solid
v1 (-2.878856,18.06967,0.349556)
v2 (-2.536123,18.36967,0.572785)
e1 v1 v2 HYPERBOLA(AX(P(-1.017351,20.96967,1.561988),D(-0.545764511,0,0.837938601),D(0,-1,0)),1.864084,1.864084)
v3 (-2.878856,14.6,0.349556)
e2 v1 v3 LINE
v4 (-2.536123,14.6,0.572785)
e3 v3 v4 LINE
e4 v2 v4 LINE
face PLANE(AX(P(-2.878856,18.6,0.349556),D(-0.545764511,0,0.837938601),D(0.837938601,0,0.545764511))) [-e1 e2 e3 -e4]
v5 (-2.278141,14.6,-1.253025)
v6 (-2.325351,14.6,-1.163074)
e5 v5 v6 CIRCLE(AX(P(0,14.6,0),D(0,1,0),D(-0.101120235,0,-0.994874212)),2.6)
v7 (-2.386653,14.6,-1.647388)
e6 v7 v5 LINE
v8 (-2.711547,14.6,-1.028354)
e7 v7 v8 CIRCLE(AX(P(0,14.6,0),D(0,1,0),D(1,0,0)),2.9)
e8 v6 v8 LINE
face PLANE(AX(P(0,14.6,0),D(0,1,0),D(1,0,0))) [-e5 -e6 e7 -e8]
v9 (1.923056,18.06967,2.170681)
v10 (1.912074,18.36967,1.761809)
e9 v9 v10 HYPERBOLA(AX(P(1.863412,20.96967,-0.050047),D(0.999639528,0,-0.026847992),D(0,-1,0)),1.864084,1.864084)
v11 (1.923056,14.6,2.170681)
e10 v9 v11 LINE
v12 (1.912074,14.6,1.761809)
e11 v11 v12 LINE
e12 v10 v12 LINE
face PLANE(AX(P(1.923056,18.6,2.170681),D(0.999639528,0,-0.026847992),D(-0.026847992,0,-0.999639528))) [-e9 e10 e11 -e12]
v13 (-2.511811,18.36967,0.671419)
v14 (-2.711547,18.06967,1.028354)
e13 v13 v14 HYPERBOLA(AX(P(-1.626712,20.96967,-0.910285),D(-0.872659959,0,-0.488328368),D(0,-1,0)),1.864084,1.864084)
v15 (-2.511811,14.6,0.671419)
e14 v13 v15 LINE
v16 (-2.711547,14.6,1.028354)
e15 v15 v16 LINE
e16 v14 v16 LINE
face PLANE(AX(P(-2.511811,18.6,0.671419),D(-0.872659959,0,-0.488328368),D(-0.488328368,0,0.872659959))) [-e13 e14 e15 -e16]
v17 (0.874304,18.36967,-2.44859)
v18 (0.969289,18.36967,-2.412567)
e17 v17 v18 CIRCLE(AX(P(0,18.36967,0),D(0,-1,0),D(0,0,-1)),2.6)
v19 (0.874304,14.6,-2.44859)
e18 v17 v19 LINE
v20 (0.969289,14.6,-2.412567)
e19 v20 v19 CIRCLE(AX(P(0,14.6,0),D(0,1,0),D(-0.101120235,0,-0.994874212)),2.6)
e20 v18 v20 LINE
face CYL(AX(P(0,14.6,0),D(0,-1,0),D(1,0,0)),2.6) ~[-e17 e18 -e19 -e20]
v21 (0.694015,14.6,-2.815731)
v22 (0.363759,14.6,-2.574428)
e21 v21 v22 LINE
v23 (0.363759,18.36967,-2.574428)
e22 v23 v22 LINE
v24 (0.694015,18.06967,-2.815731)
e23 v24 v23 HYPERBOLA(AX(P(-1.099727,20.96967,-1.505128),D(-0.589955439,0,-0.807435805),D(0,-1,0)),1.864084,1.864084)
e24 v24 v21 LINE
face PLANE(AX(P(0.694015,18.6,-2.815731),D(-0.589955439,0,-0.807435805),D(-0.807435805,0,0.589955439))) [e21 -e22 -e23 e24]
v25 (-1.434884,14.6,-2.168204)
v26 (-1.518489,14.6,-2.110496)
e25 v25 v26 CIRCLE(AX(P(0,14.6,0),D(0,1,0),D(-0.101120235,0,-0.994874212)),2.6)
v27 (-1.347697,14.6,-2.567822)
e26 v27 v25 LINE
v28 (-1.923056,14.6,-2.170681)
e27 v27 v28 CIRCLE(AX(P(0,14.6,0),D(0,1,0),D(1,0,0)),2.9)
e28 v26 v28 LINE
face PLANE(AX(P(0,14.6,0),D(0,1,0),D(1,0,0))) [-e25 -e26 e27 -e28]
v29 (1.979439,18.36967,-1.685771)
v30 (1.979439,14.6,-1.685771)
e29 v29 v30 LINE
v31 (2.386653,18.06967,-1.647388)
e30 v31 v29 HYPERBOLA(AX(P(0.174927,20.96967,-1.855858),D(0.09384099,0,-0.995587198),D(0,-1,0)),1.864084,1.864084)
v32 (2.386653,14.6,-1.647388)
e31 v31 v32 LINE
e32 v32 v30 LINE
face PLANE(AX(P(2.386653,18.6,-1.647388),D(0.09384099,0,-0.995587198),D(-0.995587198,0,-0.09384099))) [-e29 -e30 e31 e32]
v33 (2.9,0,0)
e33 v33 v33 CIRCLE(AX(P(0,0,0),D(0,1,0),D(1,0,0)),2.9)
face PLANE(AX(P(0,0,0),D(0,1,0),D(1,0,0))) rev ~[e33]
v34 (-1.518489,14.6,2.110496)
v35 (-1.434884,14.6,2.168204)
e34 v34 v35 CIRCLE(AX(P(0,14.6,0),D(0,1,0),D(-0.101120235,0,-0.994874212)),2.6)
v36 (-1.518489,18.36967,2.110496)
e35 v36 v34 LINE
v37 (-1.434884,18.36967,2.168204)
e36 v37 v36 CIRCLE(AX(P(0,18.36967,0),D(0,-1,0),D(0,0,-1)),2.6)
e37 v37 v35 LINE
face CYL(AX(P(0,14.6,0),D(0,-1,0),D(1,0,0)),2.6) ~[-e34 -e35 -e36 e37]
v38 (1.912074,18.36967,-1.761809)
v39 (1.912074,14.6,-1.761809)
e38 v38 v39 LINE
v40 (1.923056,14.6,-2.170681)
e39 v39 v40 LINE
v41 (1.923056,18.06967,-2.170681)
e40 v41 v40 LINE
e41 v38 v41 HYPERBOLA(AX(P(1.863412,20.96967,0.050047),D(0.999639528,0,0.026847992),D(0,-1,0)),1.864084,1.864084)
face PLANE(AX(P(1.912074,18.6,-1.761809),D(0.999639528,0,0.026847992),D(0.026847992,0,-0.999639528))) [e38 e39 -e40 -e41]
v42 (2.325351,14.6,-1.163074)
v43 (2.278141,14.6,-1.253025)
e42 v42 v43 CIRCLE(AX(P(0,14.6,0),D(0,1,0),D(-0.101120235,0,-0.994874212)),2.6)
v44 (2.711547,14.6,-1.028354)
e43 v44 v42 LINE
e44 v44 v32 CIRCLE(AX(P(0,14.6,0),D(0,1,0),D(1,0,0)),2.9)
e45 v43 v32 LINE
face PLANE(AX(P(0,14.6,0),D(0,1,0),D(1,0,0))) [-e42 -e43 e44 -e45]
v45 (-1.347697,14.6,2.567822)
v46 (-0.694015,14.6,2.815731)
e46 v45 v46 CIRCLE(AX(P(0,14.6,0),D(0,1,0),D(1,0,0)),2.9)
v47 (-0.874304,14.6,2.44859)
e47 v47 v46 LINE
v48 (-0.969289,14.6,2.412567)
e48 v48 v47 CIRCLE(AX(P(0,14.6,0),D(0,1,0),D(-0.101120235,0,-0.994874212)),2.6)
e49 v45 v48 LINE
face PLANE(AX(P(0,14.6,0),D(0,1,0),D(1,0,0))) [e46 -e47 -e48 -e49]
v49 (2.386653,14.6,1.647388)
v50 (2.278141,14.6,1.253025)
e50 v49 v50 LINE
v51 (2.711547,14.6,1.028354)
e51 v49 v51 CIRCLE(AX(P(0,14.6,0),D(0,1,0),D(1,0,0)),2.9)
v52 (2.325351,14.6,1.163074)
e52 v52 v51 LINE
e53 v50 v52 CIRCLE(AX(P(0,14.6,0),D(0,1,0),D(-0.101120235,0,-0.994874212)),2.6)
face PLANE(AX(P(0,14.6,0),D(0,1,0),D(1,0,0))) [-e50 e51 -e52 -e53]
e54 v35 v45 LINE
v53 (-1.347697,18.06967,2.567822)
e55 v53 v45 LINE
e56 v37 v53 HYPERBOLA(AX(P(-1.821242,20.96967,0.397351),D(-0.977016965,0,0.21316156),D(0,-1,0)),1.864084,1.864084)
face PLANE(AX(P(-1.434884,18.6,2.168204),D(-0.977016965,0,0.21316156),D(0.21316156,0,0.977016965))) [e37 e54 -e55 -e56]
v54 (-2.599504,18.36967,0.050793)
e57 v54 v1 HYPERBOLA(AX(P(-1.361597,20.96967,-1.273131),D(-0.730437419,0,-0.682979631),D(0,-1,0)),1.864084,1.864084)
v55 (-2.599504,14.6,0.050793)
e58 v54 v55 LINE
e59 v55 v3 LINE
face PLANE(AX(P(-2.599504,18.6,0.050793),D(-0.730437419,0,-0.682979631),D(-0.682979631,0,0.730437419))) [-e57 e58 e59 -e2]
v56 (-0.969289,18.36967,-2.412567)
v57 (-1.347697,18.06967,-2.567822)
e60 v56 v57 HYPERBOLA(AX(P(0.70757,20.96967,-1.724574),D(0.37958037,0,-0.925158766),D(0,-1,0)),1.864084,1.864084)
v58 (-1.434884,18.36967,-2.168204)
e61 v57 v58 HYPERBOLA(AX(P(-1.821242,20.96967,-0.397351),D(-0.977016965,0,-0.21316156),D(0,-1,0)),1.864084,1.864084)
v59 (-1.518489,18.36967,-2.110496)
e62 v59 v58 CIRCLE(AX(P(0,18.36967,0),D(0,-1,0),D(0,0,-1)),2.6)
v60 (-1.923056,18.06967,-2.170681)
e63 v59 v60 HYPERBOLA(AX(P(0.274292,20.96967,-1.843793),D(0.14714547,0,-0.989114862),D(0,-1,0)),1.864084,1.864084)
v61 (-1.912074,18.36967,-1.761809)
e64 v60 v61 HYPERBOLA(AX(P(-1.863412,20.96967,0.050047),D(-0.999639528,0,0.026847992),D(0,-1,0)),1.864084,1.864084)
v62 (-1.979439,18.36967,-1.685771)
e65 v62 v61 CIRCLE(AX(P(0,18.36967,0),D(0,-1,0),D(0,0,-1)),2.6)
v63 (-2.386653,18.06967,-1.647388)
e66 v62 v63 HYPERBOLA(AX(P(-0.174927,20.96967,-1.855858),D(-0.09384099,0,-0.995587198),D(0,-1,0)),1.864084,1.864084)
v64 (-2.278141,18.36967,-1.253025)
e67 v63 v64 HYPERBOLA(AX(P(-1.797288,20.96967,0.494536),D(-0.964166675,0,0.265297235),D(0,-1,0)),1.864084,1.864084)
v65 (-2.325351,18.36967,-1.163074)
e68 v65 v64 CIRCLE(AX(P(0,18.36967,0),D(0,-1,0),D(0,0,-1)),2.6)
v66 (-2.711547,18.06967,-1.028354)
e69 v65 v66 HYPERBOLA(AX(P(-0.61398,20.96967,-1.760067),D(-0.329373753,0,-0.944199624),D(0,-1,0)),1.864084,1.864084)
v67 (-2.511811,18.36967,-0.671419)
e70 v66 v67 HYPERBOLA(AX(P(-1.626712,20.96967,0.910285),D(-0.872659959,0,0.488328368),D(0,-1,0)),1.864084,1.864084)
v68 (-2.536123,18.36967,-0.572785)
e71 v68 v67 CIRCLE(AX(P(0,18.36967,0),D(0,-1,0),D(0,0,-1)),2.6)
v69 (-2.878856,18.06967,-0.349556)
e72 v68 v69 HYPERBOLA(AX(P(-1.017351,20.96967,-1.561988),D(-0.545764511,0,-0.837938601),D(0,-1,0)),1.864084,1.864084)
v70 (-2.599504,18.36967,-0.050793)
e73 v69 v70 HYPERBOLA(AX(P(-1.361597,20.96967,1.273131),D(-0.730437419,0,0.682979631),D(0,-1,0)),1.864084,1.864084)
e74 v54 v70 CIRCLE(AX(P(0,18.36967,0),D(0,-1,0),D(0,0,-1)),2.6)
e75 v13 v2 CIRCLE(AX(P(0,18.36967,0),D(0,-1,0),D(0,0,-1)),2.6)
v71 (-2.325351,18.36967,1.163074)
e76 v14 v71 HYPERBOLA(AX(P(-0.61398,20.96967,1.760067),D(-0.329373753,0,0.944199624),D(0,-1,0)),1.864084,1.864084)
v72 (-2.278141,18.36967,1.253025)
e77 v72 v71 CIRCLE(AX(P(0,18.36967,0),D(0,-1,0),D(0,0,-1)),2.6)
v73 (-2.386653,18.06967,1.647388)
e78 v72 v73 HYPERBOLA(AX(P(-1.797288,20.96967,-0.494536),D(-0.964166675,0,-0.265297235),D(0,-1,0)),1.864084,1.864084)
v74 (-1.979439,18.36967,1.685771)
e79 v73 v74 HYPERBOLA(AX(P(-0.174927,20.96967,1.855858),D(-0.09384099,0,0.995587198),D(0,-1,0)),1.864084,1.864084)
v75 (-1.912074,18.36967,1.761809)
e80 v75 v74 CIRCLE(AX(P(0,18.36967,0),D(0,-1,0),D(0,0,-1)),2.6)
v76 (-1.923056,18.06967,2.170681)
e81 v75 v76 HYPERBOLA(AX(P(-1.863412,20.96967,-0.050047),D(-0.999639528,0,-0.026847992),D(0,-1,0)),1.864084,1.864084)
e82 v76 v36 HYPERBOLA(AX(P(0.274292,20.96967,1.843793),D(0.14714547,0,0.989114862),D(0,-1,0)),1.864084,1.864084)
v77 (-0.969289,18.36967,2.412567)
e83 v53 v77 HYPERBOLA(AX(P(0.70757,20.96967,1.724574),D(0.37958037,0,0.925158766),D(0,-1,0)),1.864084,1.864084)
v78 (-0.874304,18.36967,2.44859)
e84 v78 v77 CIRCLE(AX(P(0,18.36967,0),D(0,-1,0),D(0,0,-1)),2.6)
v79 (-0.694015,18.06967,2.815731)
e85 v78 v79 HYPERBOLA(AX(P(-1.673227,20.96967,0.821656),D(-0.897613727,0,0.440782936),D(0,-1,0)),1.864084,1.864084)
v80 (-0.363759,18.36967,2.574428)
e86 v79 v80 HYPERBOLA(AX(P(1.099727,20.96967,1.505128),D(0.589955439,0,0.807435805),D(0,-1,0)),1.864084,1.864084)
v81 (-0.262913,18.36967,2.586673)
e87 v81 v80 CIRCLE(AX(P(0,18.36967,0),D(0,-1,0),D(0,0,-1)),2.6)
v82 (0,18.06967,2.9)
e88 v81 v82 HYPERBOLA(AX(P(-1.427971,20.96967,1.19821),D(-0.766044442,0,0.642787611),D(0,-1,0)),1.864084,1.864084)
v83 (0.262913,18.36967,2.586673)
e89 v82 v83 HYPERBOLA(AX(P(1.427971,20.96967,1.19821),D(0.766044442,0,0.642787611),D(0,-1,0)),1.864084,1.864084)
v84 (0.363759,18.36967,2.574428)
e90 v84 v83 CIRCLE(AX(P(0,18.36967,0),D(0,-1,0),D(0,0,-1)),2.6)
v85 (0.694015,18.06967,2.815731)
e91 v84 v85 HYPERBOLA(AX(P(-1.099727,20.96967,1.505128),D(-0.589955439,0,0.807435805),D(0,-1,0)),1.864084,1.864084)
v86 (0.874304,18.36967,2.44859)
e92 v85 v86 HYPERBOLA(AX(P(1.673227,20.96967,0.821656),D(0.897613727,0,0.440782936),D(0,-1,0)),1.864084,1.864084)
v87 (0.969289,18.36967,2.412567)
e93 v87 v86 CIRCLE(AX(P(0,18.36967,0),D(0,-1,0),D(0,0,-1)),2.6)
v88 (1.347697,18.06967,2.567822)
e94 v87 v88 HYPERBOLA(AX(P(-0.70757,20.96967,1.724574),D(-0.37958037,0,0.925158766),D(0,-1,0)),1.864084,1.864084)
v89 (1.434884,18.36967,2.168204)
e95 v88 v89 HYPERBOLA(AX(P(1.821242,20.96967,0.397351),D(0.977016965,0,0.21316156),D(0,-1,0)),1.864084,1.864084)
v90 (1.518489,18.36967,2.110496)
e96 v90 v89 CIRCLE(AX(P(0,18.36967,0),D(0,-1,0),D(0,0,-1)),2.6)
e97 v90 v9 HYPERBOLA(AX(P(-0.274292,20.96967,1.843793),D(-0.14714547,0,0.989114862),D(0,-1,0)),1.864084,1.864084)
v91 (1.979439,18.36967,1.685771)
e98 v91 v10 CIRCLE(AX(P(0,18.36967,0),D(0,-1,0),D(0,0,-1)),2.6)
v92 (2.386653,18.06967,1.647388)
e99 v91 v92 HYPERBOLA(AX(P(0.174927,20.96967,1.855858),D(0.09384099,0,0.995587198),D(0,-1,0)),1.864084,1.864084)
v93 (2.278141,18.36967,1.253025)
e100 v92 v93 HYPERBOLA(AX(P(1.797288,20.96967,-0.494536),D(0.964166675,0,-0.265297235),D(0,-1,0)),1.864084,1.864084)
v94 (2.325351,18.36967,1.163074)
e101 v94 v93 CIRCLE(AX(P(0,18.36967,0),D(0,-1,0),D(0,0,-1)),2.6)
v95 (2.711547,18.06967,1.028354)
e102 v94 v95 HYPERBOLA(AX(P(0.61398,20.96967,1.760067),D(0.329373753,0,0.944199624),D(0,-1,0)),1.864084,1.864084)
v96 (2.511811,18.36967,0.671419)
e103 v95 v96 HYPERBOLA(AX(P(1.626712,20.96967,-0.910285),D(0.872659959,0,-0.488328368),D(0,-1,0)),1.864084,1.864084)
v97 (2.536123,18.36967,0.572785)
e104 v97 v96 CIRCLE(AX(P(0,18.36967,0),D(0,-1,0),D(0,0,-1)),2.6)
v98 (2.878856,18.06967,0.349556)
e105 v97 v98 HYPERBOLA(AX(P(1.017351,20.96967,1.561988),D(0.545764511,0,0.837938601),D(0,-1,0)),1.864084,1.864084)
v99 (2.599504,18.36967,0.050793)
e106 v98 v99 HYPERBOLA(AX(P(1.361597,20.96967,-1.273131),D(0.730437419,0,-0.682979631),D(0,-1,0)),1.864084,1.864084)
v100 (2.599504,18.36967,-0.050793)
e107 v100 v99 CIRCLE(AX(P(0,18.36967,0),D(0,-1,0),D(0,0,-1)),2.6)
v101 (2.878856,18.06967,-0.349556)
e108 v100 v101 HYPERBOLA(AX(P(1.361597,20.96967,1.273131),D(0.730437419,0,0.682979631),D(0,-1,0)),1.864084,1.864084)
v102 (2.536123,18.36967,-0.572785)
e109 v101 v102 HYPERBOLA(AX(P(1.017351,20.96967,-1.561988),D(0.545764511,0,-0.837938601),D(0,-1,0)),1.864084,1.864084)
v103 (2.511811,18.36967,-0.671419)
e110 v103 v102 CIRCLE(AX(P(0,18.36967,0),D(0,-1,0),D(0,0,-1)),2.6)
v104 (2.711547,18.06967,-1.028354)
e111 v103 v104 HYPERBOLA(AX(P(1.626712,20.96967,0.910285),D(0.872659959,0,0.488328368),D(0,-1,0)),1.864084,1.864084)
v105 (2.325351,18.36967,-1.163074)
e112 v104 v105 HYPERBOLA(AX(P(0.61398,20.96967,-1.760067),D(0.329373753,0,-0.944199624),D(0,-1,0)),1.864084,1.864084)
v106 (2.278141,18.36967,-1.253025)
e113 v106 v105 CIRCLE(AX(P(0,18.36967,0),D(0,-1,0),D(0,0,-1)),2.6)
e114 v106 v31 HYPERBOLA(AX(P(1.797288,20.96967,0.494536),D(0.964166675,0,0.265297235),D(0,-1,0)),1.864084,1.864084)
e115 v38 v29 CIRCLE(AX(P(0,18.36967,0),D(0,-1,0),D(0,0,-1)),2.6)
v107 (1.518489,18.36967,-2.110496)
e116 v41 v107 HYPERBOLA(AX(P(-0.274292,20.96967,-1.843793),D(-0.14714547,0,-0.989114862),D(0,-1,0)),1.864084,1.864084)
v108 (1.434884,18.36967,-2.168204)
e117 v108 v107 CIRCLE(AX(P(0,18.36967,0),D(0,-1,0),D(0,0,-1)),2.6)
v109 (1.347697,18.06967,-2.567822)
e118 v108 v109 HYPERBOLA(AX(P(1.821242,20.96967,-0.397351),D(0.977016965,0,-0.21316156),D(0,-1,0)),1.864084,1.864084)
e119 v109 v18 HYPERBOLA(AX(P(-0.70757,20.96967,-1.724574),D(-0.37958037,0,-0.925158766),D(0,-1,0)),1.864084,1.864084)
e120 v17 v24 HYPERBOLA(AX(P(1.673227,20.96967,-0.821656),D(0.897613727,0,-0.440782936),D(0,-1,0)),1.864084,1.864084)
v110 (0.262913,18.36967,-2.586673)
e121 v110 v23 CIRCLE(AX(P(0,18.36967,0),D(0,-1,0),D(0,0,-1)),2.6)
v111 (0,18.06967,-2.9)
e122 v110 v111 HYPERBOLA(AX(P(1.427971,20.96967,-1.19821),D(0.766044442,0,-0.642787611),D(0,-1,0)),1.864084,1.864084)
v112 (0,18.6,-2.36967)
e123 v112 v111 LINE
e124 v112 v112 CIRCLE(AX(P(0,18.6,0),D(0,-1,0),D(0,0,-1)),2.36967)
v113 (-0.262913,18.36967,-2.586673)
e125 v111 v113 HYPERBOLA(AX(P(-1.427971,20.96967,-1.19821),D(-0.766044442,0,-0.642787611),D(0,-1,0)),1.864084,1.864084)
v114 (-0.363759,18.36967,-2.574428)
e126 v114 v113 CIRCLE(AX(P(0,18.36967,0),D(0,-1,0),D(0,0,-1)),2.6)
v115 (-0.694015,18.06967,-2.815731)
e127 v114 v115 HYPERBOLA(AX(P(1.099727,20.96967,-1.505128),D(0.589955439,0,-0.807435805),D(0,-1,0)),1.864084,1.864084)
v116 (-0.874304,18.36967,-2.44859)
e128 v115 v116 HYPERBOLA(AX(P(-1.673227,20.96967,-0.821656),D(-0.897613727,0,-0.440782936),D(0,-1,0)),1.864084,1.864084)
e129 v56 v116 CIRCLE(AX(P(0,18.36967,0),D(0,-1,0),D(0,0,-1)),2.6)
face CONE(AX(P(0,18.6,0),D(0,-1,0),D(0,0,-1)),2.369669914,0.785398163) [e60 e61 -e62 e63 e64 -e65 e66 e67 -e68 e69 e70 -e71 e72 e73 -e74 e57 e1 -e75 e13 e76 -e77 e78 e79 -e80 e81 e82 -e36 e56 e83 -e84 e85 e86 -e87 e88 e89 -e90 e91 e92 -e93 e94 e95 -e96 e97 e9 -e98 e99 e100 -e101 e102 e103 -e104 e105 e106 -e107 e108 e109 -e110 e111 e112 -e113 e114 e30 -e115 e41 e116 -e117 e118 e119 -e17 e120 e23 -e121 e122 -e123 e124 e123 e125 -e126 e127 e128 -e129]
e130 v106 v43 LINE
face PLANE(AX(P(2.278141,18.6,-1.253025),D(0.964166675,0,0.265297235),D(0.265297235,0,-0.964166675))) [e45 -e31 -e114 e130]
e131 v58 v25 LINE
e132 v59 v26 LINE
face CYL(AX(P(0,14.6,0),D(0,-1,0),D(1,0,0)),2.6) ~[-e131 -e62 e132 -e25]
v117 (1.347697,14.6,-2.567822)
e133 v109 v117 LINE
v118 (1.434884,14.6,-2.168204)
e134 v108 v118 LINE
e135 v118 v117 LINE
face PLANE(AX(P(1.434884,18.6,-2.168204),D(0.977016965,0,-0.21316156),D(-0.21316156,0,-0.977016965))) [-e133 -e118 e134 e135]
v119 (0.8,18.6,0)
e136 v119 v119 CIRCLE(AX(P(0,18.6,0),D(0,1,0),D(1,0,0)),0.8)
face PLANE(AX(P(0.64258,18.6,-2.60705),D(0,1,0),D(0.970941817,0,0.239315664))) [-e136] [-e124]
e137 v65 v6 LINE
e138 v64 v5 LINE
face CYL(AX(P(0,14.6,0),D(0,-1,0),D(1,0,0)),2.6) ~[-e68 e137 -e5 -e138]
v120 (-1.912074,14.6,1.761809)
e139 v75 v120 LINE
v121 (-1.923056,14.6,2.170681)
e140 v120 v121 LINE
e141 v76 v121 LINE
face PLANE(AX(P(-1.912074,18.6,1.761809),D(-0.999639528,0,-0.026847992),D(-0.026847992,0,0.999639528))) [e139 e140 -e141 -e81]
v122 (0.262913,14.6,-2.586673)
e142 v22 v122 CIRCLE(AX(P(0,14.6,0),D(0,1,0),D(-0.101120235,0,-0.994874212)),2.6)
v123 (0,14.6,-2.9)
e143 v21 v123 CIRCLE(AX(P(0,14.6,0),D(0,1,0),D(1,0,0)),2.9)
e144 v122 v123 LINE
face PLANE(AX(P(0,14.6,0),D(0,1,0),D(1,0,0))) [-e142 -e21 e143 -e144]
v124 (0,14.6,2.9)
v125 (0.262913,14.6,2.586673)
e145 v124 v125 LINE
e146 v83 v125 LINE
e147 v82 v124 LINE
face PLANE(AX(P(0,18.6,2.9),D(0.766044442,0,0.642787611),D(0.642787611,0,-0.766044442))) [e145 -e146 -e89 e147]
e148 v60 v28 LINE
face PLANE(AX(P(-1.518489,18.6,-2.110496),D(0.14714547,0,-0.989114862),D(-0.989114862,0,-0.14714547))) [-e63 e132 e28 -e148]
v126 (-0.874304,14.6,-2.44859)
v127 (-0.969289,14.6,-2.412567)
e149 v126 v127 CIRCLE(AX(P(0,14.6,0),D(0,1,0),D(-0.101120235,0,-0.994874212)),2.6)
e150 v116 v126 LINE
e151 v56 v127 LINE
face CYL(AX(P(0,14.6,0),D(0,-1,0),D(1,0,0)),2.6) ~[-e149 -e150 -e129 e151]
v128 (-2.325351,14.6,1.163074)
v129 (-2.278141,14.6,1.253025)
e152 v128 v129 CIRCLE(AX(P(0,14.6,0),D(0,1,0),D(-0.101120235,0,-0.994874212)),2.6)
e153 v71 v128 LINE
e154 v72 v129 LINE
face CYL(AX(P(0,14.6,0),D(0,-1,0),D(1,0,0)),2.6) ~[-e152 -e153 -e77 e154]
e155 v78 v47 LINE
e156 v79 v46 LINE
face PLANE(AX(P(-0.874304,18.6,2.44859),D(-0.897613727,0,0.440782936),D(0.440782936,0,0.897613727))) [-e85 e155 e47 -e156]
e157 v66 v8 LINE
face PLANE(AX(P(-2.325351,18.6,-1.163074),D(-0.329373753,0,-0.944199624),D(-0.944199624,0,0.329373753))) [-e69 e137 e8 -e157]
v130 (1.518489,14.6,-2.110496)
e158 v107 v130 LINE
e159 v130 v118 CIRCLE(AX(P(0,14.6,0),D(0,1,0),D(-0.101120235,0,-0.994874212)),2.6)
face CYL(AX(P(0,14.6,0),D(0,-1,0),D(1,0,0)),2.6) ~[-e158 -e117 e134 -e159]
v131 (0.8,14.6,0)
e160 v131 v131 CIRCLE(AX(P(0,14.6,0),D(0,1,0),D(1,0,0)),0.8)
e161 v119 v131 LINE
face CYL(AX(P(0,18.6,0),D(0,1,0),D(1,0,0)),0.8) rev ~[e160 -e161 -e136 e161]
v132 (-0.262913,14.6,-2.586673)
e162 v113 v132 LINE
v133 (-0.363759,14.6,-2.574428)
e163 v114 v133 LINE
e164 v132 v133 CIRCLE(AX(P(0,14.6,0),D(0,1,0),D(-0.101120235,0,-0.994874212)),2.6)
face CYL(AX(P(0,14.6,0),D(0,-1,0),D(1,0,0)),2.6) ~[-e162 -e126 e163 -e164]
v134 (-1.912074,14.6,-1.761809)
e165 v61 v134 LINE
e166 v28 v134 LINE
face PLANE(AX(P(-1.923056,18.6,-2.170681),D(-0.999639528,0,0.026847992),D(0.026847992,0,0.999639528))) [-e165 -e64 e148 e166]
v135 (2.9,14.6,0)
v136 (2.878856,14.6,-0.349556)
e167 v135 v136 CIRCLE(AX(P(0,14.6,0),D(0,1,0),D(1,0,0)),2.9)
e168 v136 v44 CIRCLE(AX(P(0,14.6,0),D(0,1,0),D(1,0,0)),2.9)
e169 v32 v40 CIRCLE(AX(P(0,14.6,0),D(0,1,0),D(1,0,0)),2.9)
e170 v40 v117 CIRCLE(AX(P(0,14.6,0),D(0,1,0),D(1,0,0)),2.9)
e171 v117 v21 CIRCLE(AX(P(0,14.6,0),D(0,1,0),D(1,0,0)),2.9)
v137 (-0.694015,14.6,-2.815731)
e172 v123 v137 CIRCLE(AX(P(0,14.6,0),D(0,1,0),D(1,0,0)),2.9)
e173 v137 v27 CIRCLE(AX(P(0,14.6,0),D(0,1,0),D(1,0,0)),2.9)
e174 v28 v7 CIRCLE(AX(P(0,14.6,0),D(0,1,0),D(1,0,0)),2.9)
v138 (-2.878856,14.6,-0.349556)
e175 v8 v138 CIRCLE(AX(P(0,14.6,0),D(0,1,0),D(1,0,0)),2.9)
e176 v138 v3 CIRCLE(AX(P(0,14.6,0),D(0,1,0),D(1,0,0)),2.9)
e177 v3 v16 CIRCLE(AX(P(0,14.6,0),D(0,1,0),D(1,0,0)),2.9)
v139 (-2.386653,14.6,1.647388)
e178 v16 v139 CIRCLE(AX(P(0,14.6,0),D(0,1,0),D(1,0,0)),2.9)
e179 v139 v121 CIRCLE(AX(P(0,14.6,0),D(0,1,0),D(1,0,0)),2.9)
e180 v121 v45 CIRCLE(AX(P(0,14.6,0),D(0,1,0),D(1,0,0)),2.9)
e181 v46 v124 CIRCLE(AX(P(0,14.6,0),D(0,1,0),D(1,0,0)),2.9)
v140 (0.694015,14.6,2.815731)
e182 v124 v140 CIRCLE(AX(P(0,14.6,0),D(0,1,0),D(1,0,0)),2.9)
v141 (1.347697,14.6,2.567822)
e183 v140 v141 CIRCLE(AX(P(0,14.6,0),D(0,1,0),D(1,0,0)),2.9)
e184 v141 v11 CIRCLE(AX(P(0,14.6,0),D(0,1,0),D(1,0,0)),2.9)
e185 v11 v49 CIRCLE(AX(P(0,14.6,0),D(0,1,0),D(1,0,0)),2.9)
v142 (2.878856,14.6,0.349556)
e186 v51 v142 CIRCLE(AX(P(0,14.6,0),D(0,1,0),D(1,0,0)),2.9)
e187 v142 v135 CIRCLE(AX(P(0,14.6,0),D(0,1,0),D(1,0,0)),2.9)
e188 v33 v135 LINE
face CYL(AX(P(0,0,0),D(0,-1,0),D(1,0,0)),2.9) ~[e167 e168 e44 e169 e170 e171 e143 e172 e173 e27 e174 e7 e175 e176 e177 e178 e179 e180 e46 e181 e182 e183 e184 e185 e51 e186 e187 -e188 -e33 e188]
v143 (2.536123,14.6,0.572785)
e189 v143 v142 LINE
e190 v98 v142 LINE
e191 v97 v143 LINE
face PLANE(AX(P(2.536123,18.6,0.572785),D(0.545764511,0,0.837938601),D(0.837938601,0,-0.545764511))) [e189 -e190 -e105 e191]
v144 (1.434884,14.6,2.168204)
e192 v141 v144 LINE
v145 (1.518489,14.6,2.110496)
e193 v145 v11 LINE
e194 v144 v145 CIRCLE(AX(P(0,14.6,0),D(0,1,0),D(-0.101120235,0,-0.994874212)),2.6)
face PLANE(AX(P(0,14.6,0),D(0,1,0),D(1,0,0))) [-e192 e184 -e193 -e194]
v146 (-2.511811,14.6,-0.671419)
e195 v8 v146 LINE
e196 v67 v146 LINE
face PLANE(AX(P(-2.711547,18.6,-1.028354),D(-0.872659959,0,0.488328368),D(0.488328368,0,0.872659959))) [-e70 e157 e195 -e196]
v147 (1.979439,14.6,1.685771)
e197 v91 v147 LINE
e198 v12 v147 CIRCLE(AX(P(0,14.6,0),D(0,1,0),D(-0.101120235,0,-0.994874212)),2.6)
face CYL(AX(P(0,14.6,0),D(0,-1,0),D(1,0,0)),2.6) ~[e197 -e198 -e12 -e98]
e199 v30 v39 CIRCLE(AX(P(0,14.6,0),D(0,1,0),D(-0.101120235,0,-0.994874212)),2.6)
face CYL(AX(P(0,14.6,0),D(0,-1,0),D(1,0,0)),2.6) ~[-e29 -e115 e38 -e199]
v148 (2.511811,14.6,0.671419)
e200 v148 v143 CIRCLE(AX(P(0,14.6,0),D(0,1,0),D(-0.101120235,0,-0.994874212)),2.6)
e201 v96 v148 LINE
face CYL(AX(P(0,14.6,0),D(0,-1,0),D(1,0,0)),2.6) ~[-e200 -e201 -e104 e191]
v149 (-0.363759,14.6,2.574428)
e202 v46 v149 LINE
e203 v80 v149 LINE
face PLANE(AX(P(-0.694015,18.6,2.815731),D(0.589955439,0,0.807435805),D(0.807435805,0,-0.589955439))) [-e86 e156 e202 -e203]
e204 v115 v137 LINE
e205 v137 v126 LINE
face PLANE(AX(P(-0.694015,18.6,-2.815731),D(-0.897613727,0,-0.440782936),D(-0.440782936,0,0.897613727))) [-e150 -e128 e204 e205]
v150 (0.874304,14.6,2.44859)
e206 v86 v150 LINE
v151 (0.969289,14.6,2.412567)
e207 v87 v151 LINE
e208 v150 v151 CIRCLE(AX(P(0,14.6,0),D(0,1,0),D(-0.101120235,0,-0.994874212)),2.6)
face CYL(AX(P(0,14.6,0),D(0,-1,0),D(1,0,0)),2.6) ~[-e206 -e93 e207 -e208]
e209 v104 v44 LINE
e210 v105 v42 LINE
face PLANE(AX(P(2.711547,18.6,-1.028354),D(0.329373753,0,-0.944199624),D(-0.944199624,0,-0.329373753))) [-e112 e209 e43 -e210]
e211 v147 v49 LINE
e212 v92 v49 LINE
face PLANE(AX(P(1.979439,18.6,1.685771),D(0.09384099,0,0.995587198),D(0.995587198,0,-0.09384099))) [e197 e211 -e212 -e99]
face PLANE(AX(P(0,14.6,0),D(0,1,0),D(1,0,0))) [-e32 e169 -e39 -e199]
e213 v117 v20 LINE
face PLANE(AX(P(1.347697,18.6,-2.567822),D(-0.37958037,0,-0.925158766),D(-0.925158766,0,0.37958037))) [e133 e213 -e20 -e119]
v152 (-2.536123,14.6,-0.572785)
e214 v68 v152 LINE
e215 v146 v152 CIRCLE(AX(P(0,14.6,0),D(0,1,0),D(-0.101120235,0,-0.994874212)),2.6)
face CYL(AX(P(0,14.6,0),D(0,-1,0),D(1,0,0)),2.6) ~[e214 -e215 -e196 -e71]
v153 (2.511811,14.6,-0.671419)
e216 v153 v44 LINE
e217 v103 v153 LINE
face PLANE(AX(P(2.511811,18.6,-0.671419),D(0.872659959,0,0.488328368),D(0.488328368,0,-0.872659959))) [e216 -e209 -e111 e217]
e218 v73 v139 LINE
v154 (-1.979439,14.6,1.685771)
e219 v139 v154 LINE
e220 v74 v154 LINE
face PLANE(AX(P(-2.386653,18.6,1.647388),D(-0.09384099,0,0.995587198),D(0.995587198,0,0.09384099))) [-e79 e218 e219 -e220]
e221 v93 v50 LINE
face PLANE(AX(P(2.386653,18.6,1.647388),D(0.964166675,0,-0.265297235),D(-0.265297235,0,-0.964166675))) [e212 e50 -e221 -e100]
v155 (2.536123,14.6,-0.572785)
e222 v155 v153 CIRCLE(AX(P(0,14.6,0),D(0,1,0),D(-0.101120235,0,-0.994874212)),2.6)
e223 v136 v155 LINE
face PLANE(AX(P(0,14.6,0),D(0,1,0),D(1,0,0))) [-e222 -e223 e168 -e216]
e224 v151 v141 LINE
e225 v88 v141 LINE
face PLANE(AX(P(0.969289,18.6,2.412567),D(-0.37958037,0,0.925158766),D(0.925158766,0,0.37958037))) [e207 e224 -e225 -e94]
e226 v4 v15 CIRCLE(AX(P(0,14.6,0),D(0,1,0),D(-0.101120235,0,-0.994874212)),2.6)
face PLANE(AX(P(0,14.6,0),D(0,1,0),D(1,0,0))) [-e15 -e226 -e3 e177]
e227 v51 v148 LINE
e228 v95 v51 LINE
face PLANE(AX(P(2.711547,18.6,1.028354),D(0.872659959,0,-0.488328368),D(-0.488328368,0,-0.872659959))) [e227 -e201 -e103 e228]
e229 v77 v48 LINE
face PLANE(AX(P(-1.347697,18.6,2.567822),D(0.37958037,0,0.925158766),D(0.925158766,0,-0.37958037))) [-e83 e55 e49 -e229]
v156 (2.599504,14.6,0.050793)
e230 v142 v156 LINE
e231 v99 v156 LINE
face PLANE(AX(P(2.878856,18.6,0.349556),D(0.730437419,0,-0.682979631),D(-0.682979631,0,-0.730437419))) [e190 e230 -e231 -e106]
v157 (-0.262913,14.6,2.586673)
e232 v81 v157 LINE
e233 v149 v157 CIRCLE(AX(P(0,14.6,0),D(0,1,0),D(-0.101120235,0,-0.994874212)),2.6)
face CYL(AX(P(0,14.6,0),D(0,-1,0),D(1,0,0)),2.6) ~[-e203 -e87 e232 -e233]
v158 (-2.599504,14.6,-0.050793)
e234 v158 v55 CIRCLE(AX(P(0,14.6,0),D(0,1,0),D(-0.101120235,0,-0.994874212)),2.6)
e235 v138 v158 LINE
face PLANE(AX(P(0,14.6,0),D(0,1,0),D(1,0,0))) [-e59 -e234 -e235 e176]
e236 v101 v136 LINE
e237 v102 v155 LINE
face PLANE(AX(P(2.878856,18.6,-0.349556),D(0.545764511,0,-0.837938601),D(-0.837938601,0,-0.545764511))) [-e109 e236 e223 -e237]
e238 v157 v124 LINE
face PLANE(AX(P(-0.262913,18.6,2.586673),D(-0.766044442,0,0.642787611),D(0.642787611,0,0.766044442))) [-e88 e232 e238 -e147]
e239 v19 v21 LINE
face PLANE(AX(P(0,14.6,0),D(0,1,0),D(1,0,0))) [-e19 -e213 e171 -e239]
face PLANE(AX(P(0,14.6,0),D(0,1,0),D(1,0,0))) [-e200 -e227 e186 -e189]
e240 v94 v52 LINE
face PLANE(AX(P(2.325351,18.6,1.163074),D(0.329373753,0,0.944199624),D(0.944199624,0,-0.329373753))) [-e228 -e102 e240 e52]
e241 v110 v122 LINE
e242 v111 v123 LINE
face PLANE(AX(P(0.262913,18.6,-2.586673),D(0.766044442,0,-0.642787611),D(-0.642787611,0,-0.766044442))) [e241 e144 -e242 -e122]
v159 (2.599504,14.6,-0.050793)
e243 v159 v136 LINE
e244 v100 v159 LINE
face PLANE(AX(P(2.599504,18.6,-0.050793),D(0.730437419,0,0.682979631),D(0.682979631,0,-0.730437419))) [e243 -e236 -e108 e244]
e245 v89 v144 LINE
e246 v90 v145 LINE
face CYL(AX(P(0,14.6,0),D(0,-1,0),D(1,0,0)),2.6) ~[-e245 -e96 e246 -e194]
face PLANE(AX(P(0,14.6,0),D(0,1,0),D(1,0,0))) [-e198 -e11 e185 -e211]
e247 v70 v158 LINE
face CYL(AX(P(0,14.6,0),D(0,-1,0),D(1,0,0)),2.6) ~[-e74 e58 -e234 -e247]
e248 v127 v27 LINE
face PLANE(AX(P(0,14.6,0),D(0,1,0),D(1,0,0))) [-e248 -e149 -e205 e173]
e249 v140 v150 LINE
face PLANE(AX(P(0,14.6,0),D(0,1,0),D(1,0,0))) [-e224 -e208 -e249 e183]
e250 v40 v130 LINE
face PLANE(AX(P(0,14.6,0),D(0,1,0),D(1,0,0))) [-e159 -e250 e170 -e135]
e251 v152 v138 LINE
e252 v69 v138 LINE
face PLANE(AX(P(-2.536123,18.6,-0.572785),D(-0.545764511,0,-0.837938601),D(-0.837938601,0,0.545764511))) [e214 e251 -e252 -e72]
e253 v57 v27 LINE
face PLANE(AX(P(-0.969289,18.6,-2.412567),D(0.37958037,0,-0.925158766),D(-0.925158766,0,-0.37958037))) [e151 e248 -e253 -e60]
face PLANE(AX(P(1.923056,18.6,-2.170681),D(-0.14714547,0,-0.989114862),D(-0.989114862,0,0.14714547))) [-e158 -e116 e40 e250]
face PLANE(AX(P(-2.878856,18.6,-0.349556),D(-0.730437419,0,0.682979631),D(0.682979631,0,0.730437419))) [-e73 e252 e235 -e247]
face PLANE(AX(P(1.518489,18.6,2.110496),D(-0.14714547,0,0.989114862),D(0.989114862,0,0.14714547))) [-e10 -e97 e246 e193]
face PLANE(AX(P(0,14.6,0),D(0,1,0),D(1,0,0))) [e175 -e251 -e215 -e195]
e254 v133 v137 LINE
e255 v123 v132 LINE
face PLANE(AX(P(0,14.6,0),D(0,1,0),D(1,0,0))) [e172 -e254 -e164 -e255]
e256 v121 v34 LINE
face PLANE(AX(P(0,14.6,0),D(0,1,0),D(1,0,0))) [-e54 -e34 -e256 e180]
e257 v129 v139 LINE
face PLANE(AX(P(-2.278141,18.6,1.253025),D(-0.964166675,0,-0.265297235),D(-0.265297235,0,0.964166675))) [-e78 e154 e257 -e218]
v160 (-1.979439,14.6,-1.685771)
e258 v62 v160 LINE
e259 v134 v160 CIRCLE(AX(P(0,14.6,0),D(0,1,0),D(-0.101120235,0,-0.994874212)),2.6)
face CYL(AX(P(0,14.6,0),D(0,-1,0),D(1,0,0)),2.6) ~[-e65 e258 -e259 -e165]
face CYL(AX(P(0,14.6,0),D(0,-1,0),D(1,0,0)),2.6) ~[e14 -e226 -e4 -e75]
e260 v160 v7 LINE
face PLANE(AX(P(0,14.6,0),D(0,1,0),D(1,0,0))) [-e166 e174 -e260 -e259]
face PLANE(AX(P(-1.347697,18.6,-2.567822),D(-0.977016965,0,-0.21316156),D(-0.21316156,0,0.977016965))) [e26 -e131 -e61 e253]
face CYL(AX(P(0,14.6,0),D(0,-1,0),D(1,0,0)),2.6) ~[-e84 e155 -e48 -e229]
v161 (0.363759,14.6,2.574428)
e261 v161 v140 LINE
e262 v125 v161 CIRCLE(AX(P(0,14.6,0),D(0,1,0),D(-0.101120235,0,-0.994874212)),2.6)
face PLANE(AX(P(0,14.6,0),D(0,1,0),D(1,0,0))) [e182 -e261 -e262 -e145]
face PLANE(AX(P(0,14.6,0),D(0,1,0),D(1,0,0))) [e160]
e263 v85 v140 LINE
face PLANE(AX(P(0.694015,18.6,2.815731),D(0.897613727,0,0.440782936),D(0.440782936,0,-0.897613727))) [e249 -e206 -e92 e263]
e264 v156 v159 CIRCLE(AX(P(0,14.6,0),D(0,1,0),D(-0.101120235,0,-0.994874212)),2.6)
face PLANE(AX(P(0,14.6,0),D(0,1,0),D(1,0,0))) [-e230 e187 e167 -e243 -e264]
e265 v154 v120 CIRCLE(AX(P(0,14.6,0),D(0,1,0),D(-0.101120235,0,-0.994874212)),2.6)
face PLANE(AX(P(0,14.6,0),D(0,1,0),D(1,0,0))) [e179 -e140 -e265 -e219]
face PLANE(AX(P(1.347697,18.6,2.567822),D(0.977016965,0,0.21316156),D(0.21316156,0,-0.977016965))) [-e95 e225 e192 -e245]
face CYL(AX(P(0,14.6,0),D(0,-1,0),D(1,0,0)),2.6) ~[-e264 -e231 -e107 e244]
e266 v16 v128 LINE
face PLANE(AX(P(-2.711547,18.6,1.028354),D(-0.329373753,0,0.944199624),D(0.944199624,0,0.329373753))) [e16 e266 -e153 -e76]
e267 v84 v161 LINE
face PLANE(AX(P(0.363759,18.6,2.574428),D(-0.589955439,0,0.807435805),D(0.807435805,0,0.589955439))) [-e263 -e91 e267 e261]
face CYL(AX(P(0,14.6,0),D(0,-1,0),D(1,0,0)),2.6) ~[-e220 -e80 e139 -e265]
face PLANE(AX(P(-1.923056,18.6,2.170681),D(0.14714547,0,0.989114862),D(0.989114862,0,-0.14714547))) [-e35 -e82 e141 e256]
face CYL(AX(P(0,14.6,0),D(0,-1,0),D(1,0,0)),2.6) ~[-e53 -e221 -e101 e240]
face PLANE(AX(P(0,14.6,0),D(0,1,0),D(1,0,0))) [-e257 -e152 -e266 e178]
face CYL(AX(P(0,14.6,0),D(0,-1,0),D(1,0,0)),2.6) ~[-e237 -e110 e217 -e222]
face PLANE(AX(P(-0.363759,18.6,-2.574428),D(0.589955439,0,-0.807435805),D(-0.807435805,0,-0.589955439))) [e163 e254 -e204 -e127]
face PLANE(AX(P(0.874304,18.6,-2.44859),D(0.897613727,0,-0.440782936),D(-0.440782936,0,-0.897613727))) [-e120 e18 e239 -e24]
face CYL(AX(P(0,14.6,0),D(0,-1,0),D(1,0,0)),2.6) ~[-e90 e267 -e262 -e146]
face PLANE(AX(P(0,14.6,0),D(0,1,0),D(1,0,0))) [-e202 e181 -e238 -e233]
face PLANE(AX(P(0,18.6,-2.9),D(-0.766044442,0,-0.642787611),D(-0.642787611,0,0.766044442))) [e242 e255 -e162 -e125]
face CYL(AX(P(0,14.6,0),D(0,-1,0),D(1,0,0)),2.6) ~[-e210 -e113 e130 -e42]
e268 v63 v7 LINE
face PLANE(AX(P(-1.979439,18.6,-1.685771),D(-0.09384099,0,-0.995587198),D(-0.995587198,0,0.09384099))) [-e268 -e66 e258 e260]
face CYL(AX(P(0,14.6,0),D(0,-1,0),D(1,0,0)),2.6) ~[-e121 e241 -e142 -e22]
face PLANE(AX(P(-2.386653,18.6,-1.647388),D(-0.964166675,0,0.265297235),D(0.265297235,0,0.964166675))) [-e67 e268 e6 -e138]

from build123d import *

# Parameters (mm, degrees)
SHAFTS_R              = 2.9
SHAFT_DEPTH           = 14.6
SHAFTEXTENSIONS_R     = 2.6
SHAFT_EXTENSION_DEPTH = 4
TOOTH_DEPTH           = 18.6
TOOTH_CP_COUNT        = 26
SMALLBORES_R          = 0.8
SMALL_BORE_DEPTH      = 4


with BuildPart() as part:
    # ShaftS → SHAFT (new body)
    with BuildSketch(Plane(origin=(0, 0, 0), x_dir=(1, 0, 0), z_dir=(0, 1, 0))):
        Circle(SHAFTS_R)
    extrude(amount=SHAFT_DEPTH)

    # ShaftExtensionS → SHAFT EXTENSION (add)
    with BuildSketch(Plane(origin=(0, 14.6, 0), x_dir=(1, 0, 0), z_dir=(0, 1, 0))):
        Circle(SHAFTEXTENSIONS_R)
    extrude(amount=SHAFT_EXTENSION_DEPTH)

    # ToothS → TOOTH (add)
    with BuildSketch(Plane(origin=(0, 18.6, 0), x_dir=(1, 0, 0), z_dir=(0, 1, 0))):
        with BuildLine():
            Line((0, 2.9), (-0.262912611, 2.586672952))
            ThreePointArc((-0.262912611, 2.586672952), (0, 2.6), (0.262912611, 2.586672952))
            Line((0.262912611, 2.586672952), (0, 2.9))
        make_face()
    tooth = extrude(amount=-TOOTH_DEPTH)

    # TOOTH CP: TOOTH ×26 about axis
    tooth_cp_axis = Axis((0, 0, 0), (0, 1, 0))
    for i in range(1, TOOTH_CP_COUNT):
        add(tooth.rotate(tooth_cp_axis, i * 360 / TOOTH_CP_COUNT))

    # SmallBoreS → SMALL BORE (cut)
    with BuildSketch(Plane(origin=(0, 18.6, 0), x_dir=(1, 0, 0), z_dir=(0, 1, 0))):
        Circle(SMALLBORES_R)
    extrude(amount=-SMALL_BORE_DEPTH, mode=Mode.SUBTRACT)

    # TeethChamferS → TEETH CHAMFER (revolve, cut)
    with BuildSketch(Plane(origin=(0, 0, 0), x_dir=(0, 0, -1), z_dir=(1, 0, 0))):
        Polygon((2.9, 18.069669914), (2.9, 18.6), (2.369669914, 18.6), align=None)
    revolve(axis=Axis((0, 18.6, 0), (0, -1, 0)), mode=Mode.SUBTRACT)


solid = part.part
